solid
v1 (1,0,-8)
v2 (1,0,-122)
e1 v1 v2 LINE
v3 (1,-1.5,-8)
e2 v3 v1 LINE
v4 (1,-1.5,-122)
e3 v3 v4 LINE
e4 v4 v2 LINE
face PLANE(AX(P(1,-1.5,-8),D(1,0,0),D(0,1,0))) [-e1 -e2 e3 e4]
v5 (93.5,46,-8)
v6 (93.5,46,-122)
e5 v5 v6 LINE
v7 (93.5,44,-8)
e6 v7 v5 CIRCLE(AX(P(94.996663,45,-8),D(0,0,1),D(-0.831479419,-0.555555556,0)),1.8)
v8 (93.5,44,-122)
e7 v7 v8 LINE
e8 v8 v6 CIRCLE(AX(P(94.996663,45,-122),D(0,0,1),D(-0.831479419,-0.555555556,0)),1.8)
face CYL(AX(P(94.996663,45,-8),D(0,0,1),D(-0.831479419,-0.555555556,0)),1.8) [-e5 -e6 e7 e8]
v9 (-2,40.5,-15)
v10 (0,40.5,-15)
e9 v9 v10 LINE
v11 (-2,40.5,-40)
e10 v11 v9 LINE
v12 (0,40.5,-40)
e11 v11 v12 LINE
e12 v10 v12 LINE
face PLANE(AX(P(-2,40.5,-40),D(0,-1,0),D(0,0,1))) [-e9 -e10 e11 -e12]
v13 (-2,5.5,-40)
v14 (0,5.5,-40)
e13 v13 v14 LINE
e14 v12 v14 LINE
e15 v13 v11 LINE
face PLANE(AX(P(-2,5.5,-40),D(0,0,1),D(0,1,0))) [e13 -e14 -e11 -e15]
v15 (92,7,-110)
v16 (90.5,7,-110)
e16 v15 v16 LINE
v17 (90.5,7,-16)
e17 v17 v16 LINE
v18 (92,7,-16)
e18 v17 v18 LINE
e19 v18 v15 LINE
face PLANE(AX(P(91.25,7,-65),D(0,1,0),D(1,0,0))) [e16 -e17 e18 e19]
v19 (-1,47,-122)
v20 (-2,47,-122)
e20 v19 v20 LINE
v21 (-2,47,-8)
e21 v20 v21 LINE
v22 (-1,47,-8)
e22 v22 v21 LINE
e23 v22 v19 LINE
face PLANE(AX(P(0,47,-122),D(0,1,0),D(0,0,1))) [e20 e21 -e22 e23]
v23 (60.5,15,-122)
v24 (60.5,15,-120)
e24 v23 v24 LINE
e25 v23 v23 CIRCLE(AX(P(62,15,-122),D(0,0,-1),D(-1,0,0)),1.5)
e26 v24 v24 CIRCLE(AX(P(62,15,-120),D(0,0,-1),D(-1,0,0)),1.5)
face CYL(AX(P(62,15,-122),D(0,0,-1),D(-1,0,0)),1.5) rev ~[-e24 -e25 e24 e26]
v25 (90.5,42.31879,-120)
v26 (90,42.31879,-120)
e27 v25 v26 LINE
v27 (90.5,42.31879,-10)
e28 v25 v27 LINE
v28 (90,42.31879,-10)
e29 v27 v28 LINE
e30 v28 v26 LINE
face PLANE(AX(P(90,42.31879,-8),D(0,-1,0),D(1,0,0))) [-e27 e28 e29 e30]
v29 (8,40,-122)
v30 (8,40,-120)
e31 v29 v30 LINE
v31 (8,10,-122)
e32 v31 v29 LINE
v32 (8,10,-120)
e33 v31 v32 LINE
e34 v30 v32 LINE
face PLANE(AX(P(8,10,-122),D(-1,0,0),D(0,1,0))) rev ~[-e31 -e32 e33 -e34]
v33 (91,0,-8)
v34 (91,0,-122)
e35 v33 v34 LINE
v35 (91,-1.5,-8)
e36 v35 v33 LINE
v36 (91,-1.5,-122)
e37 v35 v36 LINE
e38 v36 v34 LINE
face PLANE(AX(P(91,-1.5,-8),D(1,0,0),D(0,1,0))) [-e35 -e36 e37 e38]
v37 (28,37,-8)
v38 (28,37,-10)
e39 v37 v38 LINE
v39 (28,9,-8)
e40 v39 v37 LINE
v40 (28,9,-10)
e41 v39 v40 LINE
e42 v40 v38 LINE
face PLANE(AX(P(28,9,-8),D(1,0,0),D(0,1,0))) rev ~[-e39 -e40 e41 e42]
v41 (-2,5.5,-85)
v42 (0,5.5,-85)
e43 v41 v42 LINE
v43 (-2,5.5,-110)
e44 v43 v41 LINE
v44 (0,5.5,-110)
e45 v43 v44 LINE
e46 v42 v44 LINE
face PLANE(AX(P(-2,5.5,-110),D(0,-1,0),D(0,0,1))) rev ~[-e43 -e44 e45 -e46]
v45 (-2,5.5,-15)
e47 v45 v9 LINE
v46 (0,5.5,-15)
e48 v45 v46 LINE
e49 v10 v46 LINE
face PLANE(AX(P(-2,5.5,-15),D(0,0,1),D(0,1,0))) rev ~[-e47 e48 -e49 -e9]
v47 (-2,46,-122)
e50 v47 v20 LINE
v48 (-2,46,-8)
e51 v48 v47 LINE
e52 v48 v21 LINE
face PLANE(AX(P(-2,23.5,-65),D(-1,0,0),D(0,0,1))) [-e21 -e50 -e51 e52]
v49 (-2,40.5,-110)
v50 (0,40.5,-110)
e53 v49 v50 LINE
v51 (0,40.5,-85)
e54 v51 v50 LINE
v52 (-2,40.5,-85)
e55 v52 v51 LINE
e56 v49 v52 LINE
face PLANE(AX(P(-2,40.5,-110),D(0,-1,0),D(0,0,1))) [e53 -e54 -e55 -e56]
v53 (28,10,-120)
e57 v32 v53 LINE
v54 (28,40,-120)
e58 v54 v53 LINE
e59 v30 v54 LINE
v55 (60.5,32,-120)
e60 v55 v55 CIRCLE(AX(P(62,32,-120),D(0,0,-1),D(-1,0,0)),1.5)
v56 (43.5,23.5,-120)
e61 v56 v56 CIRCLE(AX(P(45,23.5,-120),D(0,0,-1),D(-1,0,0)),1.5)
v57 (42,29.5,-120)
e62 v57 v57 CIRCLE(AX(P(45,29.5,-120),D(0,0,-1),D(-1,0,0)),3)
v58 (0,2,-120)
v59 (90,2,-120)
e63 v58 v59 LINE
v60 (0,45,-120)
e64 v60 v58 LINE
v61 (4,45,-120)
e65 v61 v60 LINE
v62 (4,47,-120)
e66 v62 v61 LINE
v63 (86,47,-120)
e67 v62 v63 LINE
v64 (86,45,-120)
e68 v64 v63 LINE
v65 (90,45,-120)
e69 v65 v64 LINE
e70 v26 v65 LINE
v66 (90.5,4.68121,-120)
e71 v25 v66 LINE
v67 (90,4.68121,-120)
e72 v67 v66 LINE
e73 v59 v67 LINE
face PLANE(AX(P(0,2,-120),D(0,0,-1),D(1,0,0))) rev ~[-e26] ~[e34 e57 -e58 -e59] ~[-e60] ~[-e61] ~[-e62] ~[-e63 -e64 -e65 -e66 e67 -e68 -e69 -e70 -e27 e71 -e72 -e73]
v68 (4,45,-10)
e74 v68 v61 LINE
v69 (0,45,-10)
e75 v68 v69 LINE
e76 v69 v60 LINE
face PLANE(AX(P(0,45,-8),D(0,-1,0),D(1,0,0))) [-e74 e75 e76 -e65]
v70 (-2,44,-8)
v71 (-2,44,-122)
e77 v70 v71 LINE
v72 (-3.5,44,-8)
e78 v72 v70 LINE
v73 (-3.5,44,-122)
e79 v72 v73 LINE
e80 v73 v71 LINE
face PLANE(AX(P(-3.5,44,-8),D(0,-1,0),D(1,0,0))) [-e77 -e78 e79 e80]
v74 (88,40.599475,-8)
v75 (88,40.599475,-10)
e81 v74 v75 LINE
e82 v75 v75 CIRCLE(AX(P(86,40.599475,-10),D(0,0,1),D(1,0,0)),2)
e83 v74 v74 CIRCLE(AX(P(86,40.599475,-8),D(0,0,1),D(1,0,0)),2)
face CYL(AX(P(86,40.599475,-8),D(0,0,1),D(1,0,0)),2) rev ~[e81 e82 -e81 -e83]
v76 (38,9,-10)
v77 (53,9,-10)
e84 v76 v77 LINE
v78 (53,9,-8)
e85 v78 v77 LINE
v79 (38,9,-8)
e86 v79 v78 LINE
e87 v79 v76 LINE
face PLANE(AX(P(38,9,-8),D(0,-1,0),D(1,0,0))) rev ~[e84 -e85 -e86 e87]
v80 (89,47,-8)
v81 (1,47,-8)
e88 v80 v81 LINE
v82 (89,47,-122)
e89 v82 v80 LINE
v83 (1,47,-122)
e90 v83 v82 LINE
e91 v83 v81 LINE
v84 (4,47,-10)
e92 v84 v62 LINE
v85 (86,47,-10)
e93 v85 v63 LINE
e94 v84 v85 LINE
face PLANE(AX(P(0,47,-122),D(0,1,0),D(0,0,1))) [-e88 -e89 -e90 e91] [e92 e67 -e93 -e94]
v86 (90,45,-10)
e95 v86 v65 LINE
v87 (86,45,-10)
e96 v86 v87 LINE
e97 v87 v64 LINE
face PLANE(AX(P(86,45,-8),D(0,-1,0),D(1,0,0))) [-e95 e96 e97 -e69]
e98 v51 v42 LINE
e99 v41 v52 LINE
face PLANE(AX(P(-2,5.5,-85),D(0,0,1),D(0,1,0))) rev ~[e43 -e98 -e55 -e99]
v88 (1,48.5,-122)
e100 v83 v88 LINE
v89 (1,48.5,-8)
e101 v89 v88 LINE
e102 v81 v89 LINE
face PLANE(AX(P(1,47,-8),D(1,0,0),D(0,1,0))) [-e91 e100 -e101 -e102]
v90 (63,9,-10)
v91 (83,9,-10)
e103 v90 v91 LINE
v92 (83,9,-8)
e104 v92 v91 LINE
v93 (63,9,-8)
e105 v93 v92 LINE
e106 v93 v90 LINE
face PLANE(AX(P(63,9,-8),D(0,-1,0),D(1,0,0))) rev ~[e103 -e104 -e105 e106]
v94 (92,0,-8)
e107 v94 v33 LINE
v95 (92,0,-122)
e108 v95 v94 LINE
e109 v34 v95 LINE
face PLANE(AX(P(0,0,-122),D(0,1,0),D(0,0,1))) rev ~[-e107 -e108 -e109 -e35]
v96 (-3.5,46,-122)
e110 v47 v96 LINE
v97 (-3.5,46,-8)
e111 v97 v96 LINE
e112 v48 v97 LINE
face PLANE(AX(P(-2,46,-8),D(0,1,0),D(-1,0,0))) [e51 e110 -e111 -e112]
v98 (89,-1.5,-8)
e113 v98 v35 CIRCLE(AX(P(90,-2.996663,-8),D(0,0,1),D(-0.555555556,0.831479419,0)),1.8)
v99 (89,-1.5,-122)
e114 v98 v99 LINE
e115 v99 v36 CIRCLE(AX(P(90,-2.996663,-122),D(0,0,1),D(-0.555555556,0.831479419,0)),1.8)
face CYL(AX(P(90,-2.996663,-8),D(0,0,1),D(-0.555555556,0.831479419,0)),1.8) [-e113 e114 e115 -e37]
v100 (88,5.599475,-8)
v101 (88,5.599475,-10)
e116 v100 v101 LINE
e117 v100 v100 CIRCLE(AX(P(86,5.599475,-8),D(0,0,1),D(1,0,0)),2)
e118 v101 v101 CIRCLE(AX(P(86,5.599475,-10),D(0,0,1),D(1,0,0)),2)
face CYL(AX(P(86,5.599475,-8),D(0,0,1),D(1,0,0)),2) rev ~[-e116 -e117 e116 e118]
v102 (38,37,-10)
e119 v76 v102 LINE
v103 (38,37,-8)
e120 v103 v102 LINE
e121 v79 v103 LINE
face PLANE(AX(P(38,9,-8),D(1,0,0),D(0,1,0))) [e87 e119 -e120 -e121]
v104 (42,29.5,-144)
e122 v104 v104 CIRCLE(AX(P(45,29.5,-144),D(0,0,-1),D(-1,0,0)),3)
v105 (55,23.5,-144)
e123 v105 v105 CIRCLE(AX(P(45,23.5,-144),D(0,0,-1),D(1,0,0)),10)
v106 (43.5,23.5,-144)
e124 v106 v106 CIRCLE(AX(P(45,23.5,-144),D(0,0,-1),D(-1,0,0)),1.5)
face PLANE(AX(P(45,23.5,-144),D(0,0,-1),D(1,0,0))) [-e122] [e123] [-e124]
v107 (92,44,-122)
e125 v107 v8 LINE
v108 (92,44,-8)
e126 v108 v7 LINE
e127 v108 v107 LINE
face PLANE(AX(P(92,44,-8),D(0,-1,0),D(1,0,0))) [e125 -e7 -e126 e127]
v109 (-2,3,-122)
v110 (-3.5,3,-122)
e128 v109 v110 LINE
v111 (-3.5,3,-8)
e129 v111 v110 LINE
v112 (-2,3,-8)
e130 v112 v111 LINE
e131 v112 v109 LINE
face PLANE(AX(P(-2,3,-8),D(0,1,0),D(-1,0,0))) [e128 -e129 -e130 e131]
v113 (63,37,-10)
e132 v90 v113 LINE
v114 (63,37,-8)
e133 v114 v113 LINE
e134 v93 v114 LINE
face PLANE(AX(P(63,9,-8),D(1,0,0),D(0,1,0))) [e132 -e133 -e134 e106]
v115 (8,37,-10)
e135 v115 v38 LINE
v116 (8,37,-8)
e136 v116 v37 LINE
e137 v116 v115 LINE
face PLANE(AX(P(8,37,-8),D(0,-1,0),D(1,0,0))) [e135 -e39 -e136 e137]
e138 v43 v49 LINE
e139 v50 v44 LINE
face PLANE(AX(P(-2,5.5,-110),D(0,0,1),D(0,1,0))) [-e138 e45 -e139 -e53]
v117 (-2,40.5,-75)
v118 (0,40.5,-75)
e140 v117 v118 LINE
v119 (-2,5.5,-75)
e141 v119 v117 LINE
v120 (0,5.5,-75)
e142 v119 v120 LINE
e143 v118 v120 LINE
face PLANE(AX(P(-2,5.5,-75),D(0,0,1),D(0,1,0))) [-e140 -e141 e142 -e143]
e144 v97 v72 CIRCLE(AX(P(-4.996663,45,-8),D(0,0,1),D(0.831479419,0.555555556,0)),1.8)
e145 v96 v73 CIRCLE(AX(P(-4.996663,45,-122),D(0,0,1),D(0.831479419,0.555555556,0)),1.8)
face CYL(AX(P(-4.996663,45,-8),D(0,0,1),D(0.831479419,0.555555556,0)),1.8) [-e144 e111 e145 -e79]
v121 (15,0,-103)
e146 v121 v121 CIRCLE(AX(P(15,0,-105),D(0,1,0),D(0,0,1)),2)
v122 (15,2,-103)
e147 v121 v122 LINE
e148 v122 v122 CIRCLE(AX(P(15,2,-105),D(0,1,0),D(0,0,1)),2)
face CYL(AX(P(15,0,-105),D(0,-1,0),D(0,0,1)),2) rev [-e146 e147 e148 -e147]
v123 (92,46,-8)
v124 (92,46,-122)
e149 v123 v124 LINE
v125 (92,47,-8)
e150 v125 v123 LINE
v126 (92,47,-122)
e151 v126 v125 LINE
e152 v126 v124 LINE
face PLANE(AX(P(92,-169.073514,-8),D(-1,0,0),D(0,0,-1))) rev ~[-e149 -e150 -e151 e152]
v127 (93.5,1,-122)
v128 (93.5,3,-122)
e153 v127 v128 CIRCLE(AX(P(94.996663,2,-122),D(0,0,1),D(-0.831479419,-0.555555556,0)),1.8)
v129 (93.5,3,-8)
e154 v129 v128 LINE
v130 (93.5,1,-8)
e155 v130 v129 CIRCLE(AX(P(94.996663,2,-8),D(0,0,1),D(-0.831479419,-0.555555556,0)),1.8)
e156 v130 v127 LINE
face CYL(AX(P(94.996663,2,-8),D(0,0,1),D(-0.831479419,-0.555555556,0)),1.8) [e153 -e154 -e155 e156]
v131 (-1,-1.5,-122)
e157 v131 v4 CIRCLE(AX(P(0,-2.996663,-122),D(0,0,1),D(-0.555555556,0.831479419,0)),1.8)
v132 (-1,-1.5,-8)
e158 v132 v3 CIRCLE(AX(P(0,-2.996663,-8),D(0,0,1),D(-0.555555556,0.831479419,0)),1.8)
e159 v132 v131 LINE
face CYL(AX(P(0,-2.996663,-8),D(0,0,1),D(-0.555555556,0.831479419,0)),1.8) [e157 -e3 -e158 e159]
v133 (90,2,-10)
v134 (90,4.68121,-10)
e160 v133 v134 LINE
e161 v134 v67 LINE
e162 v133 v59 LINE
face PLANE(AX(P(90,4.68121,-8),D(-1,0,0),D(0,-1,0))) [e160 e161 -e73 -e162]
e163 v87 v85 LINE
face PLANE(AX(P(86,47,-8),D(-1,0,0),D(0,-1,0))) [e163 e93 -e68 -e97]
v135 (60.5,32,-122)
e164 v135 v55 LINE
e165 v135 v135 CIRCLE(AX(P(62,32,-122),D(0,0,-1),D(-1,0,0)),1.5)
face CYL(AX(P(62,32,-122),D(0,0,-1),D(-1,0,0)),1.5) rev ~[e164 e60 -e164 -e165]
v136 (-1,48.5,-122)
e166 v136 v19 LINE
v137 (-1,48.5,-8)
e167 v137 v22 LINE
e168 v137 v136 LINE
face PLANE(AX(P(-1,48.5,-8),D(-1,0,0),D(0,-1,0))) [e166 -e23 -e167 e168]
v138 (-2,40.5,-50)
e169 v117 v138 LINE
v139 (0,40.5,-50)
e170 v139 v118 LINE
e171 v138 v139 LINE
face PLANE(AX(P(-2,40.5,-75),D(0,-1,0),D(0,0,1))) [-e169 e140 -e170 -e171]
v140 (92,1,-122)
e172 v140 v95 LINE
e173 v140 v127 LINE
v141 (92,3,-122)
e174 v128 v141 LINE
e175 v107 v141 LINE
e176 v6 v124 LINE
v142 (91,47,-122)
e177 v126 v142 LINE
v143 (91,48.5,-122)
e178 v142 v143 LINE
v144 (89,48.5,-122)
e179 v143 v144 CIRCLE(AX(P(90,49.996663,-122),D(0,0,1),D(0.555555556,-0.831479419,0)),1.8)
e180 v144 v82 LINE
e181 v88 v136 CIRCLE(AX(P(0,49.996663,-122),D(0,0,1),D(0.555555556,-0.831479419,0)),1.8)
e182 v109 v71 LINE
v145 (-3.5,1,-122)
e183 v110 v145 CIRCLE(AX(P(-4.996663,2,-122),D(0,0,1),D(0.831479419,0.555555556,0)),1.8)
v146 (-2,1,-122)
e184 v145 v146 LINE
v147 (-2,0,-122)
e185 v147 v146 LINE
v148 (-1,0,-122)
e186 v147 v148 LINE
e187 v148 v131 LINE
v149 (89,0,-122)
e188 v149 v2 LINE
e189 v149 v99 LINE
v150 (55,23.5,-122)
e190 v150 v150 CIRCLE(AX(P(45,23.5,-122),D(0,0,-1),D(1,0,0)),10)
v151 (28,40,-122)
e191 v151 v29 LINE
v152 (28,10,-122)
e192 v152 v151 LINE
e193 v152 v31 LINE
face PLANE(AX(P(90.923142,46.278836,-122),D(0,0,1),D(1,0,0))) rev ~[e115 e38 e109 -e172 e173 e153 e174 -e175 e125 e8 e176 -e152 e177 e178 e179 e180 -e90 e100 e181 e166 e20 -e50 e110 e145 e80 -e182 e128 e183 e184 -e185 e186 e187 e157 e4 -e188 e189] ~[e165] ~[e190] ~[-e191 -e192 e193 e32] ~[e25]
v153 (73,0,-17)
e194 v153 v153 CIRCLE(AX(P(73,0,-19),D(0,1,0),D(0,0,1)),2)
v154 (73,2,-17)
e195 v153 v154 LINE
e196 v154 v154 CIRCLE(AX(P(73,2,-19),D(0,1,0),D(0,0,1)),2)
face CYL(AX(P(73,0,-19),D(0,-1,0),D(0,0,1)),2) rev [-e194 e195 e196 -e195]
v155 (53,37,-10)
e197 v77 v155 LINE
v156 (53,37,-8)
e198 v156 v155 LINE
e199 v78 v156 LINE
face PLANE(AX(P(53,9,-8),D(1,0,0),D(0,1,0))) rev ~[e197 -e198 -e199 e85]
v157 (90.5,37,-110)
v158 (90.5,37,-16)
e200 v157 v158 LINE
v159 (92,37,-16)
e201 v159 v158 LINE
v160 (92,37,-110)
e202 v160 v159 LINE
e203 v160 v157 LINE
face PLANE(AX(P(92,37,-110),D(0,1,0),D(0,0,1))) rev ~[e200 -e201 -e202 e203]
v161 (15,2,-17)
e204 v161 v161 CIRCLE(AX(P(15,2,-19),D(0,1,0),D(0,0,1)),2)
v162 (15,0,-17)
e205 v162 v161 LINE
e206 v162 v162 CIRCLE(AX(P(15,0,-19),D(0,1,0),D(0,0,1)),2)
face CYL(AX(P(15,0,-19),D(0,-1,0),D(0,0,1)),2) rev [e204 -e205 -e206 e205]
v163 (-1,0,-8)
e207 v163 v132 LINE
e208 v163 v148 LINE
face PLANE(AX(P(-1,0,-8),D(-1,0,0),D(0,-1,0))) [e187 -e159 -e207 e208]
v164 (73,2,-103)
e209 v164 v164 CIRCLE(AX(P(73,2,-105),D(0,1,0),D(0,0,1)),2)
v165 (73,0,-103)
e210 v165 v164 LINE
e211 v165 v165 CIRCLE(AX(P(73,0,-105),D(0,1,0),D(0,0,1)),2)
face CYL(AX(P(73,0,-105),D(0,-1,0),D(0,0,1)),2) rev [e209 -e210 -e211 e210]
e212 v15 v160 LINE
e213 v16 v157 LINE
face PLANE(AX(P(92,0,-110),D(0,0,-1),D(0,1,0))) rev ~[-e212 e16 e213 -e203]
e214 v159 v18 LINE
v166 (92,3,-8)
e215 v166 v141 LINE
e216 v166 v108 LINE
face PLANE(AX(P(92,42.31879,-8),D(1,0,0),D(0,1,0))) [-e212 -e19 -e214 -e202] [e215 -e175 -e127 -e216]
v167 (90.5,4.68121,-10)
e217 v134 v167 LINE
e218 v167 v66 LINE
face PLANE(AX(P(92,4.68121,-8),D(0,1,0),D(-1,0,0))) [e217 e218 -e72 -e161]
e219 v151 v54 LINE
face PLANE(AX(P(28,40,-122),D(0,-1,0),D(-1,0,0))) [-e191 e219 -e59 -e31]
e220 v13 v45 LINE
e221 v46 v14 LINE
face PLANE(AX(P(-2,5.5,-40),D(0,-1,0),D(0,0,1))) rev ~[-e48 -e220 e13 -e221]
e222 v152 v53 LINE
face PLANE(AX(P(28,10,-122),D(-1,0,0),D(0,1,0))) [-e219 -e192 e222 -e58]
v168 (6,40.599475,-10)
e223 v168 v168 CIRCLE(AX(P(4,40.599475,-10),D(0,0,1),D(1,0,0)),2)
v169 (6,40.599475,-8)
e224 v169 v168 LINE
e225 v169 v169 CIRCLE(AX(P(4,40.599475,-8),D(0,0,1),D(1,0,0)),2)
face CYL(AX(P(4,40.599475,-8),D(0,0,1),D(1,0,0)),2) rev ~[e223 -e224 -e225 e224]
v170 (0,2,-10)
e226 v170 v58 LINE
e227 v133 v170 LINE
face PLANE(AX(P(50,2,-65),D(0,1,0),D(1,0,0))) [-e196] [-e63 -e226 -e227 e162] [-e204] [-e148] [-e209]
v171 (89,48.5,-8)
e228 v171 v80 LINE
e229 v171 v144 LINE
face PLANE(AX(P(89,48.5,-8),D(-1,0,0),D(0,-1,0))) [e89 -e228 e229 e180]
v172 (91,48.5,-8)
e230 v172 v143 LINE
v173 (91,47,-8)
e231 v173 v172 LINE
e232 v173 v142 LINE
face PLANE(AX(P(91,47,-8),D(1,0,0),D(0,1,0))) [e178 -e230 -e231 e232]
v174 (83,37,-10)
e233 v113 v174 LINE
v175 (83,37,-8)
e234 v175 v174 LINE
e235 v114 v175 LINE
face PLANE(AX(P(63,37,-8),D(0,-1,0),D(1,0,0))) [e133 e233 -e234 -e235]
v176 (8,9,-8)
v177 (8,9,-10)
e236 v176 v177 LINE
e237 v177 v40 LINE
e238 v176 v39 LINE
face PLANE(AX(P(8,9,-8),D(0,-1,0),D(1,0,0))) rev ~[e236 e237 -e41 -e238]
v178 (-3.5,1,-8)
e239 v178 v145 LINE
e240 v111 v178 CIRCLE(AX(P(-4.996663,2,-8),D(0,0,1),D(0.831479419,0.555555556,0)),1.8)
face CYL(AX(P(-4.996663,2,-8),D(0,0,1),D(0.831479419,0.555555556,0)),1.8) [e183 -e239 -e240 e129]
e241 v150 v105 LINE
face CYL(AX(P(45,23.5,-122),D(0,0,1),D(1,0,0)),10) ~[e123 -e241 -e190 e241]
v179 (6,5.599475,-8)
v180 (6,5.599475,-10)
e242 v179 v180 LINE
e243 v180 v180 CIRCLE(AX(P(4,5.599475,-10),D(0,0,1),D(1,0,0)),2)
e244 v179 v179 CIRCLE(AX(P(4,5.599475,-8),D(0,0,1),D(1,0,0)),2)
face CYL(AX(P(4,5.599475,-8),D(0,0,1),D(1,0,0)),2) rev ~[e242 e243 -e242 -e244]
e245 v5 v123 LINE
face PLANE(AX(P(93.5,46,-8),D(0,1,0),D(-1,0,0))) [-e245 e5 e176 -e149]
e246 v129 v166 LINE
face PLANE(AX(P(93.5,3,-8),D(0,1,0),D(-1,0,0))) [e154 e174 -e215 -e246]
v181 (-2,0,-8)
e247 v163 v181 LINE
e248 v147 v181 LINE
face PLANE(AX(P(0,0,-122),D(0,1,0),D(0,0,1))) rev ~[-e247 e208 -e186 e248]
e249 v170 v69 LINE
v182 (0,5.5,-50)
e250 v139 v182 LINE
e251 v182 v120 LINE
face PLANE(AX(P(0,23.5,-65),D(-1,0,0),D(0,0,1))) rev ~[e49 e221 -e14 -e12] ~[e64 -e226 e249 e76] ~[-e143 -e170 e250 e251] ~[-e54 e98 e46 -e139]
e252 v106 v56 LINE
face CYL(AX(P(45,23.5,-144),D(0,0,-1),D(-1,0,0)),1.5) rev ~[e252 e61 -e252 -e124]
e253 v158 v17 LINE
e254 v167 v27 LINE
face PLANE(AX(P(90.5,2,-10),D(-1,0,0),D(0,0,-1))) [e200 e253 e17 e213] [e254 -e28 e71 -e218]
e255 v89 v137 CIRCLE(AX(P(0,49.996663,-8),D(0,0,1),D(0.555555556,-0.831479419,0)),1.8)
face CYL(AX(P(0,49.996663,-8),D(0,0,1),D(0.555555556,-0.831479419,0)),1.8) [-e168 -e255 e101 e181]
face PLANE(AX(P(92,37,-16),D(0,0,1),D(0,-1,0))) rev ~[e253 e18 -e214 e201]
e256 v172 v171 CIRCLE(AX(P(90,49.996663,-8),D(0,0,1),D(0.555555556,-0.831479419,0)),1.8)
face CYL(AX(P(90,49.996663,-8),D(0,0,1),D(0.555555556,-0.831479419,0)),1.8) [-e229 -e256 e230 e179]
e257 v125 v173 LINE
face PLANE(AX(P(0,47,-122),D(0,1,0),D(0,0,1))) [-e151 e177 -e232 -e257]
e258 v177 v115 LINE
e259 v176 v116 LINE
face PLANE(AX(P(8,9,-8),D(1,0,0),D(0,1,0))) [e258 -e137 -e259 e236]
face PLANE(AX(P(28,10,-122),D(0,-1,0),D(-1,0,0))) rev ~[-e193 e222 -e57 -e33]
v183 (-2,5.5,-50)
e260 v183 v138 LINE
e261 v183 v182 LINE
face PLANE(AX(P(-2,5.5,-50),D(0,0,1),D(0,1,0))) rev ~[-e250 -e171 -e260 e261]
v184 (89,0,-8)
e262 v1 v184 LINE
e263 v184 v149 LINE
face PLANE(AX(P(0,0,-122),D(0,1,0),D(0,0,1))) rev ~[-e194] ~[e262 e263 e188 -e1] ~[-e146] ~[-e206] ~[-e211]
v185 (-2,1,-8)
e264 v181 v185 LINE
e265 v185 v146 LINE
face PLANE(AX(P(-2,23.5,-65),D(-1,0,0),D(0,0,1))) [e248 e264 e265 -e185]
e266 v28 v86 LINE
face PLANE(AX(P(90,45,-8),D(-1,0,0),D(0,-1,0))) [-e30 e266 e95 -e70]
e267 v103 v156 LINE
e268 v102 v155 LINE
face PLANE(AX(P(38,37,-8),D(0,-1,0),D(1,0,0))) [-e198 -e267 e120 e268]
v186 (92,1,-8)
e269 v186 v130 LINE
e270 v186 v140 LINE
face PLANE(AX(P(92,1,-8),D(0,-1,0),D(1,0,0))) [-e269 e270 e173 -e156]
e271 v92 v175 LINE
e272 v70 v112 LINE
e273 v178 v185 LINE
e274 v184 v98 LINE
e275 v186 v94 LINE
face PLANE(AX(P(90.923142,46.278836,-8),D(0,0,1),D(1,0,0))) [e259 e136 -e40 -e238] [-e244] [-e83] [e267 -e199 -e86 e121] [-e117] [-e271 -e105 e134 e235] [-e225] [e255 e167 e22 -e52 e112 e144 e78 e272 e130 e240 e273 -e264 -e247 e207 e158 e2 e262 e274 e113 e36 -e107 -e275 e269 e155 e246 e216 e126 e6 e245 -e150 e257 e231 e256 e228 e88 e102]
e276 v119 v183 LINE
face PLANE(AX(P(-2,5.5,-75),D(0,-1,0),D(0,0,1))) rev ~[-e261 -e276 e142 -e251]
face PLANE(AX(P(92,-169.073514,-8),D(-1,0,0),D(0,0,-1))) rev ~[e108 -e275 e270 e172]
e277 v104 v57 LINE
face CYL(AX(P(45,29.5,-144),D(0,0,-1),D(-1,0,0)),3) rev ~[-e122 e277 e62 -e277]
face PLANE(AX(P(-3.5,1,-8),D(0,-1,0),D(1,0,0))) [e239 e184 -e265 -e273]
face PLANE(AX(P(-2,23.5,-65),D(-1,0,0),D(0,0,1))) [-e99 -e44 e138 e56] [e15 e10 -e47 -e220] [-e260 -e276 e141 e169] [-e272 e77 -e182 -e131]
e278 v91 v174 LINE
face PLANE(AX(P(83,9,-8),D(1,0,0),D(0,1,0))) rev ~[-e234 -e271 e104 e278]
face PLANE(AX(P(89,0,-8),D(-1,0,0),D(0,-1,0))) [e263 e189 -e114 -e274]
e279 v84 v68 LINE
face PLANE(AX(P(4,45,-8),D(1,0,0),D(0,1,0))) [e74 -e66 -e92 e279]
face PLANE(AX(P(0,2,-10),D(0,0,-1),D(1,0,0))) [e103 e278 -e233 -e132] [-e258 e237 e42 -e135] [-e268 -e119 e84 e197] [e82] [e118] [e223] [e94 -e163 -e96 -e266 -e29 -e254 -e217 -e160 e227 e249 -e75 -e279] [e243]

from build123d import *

# Parameters (mm, degrees)
SKETCH_1_W               = 100
SKETCH_1_H               = 130
SKETCH_1_R               = 2
EXTRUDE_1_DEPTH          = 2
SKETCH_3_W               = 100
SKETCH_3_H               = 2
EXTRUDE_2_DEPTH          = 45
SKETCH_4_W               = 1.5
SKETCH_4_H               = 110
EXTRUDE_3_DEPTH          = 5
SKETCH_5_W               = 114
SKETCH_5_H               = 47
EXTRUDE_7_DEPTH          = 2
CUT_EXTRUDE_3_DEPTH      = 171.073513517
CUT_EXTRUDE_3_DEPTH_BACK = 171.073513517
EXTRUDE_10_DEPTH         = 1.5
EXTRUDE_11_DEPTH         = 114
CUT_EXTRUDE_4_REACH      = 160.267
SKETCH_13_R              = 2
SKETCH_14_R              = 10
EXTRUDE_12_DEPTH         = 22
CUT_EXTRUDE_5_REACH      = 160.267
SKETCH_15_R              = 1.5
CUT_EXTRUDE_6_REACH      = 176.781
SKETCH_16_R              = 1.5
CUT_EXTRUDE_7_REACH      = 184.153
SKETCH_17_W              = 25
SKETCH_17_H              = 35
CUT_EXTRUDE_8_REACH      = 160.267
SKETCH_18_W              = 20
SKETCH_18_H              = 30
CUT_EXTRUDE_9_REACH      = 176.781
SKETCH_19_W              = 20
SKETCH_19_H              = 28
SKETCH_19_W_2            = 15
CUT_EXTRUDE_10_REACH     = 176.781
SKETCH_20_R              = 3


with BuildPart() as part:
    # 草图1 → 凸台-拉伸1 (new body)
    with BuildSketch(Plane(origin=(0, 0, 0), x_dir=(1, 0, 0), z_dir=(0, 1, 0))):
        with Locations((50, 65)):
            Rectangle(SKETCH_1_W, SKETCH_1_H)
        with Locations(Location((15, 105, 0), (0, 0, 270))):
            Circle(SKETCH_1_R, mode=Mode.SUBTRACT)
        with Locations(Location((15, 19, 0), (0, 0, 270))):
            Circle(SKETCH_1_R, mode=Mode.SUBTRACT)
        with Locations(Location((73, 105, 0), (0, 0, 270))):
            Circle(SKETCH_1_R, mode=Mode.SUBTRACT)
        with Locations(Location((73, 19, 0), (0, 0, 270))):
            Circle(SKETCH_1_R, mode=Mode.SUBTRACT)
    extrude(amount=EXTRUDE_1_DEPTH)

    # 草图3 → 凸台-拉伸2 (add)
    with BuildSketch(Plane(origin=(0, 2, 0), x_dir=(1, 0, 0), z_dir=(0, 1, 0))):
        with Locations((50, 121)):
            Rectangle(SKETCH_3_W, SKETCH_3_H)
        with Locations((50, 9)):
            Rectangle(SKETCH_3_W, SKETCH_3_H)
    extrude(amount=EXTRUDE_2_DEPTH)

    # 草图4 → 凸台-拉伸3 (add)
    with BuildSketch(Plane(origin=(0, 2, 0), x_dir=(1, 0, 0), z_dir=(0, 1, 0))):
        with Locations((91.25, 65)):
            Rectangle(SKETCH_4_W, SKETCH_4_H)
    extrude(amount=EXTRUDE_3_DEPTH)

    # 草图5 → 凸台-拉伸7 (add)
    with BuildSketch(Plane.ZY):
        with Locations((-65, 23.5)):
            Rectangle(SKETCH_5_W, SKETCH_5_H)
    extrude(amount=EXTRUDE_7_DEPTH)

    # 草图6 → 切除-拉伸3 (cut, two sides: drawn at the far end of the back side and taken through both)
    with BuildSketch(Plane(origin=(0, 2, 0), x_dir=(1, 0, 0), z_dir=(0, 1, 0)).offset(-CUT_EXTRUDE_3_DEPTH_BACK)):
        Polygon((0, 8), (92, 8), (92, 122), (0, 122), (0, 130), (100, 130), (100, 117), (100, 13), (100, 0), (0, 0), align=None)
    extrude(amount=CUT_EXTRUDE_3_DEPTH + CUT_EXTRUDE_3_DEPTH_BACK, mode=Mode.SUBTRACT)

    # 草图11 → 凸台-拉伸10 (add)
    with BuildSketch(Plane(origin=(92, 0, 0), x_dir=(0, 0, -1), z_dir=(1, 0, 0))):
        Polygon((8, 47), (122, 47), (122, 42), (122, 0), (110, 0), (110, 37), (16, 37), (16, 0), (8, 0), align=None)
    extrude(amount=-EXTRUDE_10_DEPTH)

    # 草图12 → 凸台-拉伸11 (add, through all)
    with BuildSketch(Plane.XY.offset(-8)):
        with BuildLine():
            Line((91, 47), (91, 48.5))
            ThreePointArc((91, 48.5), (90, 51.796662955), (89, 48.5))
            Line((89, 48.5), (89, 47))
            Line((89, 47), (86, 47))
            Line((86, 47), (86, 45))
            Line((86, 45), (90, 45))
            Line((90, 45), (90, 42.318790087))
            Line((90, 42.318790087), (92, 42.318790087))
            Line((92, 42.318790087), (92, 44))
            Line((92, 44), (93.5, 44))
            ThreePointArc((93.5, 44), (96.796662955, 45), (93.5, 46))
            Line((93.5, 46), (92, 46))
            Line((92, 46), (92, 47))
            Line((92, 47), (91, 47))
        make_face()
        with BuildLine():
            Line((0, 42.318790087), (0, 45))
            Line((0, 45), (4, 45))
            Line((4, 45), (4, 47))
            Line((4, 47), (1, 47))
            Line((1, 47), (1, 48.5))
            ThreePointArc((1, 48.5), (0, 51.796662955), (-1, 48.5))
            Line((-1, 48.5), (-1, 47))
            Line((-1, 47), (-2, 47))
            Line((-2, 47), (-2, 46))
            Line((-2, 46), (-3.5, 46))
            ThreePointArc((-3.5, 46), (-6.796662955, 45), (-3.5, 44))
            Line((-3.5, 44), (-2, 44))
            Line((-2, 44), (-2, 42.318790087))
            Line((-2, 42.318790087), (0, 42.318790087))
        make_face()
        with BuildLine():
            Line((-1, 0), (-1, -1.5))
            ThreePointArc((-1, -1.5), (0, -4.796662955), (1, -1.5))
            Line((1, -1.5), (1, 0))
            Line((1, 0), (4, 0))
            Line((4, 0), (4, 2))
            Line((4, 2), (0, 2))
            Line((0, 2), (0, 4.681209913))
            Line((0, 4.681209913), (-2, 4.681209913))
            Line((-2, 4.681209913), (-2, 3))
            Line((-2, 3), (-3.5, 3))
            ThreePointArc((-3.5, 3), (-6.796662955, 2), (-3.5, 1))
            Line((-3.5, 1), (-2, 1))
            Line((-2, 1), (-2, 0))
            Line((-2, 0), (-1, 0))
        make_face()
        with BuildLine():
            Line((90, 4.681209913), (90, 2))
            Line((90, 2), (86, 2))
            Line((86, 2), (86, 0))
            Line((86, 0), (89, 0))
            Line((89, 0), (89, -1.5))
            ThreePointArc((89, -1.5), (90, -4.796662955), (91, -1.5))
            Line((91, -1.5), (91, 0))
            Line((91, 0), (92, 0))
            Line((92, 0), (92, 1))
            Line((92, 1), (93.5, 1))
            ThreePointArc((93.5, 1), (96.796662955, 2), (93.5, 3))
            Line((93.5, 3), (92, 3))
            Line((92, 3), (92, 4.681209913))
            Line((92, 4.681209913), (90, 4.681209913))
        make_face()
    extrude(amount=-EXTRUDE_11_DEPTH)

    # 草图13 → 切除-拉伸4 (cut, up to next)
    with BuildSketch(Plane.XY.offset(-8), mode=Mode.PRIVATE) as cut_extrude_4_sk1:
        with Locations((86, 40.599475321)):
            Circle(SKETCH_13_R)
    cut_extrude_4_tool1 = extrude(cut_extrude_4_sk1.sketch, amount=-CUT_EXTRUDE_4_REACH, mode=Mode.PRIVATE) & part.part
    # 草图13 → 切除-拉伸4 (cut, up to next)
    with BuildSketch(Plane.XY.offset(-8), mode=Mode.PRIVATE) as cut_extrude_4_sk2:
        with Locations((86, 5.599475321)):
            Circle(SKETCH_13_R)
    cut_extrude_4_tool2 = extrude(cut_extrude_4_sk2.sketch, amount=-CUT_EXTRUDE_4_REACH, mode=Mode.PRIVATE) & part.part
    # 草图13 → 切除-拉伸4 (cut, up to next)
    with BuildSketch(Plane.XY.offset(-8), mode=Mode.PRIVATE) as cut_extrude_4_sk3:
        with Locations((4, 5.599475321)):
            Circle(SKETCH_13_R)
    cut_extrude_4_tool3 = extrude(cut_extrude_4_sk3.sketch, amount=-CUT_EXTRUDE_4_REACH, mode=Mode.PRIVATE) & part.part
    # 草图13 → 切除-拉伸4 (cut, up to next)
    with BuildSketch(Plane.XY.offset(-8), mode=Mode.PRIVATE) as cut_extrude_4_sk4:
        with Locations((4, 40.599475321)):
            Circle(SKETCH_13_R)
    cut_extrude_4_tool4 = extrude(cut_extrude_4_sk4.sketch, amount=-CUT_EXTRUDE_4_REACH, mode=Mode.PRIVATE) & part.part
    add(cut_extrude_4_tool1.solids().sort_by_distance((86, 40.599475, -8))[0], mode=Mode.SUBTRACT)
    add(cut_extrude_4_tool2.solids().sort_by_distance((86, 5.599475, -8))[0], mode=Mode.SUBTRACT)
    add(cut_extrude_4_tool3.solids().sort_by_distance((4, 5.599475, -8))[0], mode=Mode.SUBTRACT)
    add(cut_extrude_4_tool4.solids().sort_by_distance((4, 40.599475, -8))[0], mode=Mode.SUBTRACT)

    # 草图14 → 凸台-拉伸12 (add)
    with BuildSketch(Plane(origin=(0, 0, -122), x_dir=(-1, 0, 0), z_dir=(0, 0, -1))):
        with Locations(Location((-45, 23.5, 0), (0, 0, 180))):
            Circle(SKETCH_14_R)
    extrude(amount=EXTRUDE_12_DEPTH)

    # 草图15 → 切除-拉伸5 (cut, up to next)
    with BuildSketch(Plane(origin=(0, 0, -122), x_dir=(-1, 0, 0), z_dir=(0, 0, -1)), mode=Mode.PRIVATE) as cut_extrude_5_sk1:
        with Locations((-62, 32)):
            Circle(SKETCH_15_R)
    cut_extrude_5_tool1 = extrude(cut_extrude_5_sk1.sketch, amount=-CUT_EXTRUDE_5_REACH, mode=Mode.PRIVATE) & part.part
    # 草图15 → 切除-拉伸5 (cut, up to next)
    with BuildSketch(Plane(origin=(0, 0, -122), x_dir=(-1, 0, 0), z_dir=(0, 0, -1)), mode=Mode.PRIVATE) as cut_extrude_5_sk2:
        with Locations((-62, 15)):
            Circle(SKETCH_15_R)
    cut_extrude_5_tool2 = extrude(cut_extrude_5_sk2.sketch, amount=-CUT_EXTRUDE_5_REACH, mode=Mode.PRIVATE) & part.part
    add(cut_extrude_5_tool1.solids().sort_by_distance((62, 32, -122))[0], mode=Mode.SUBTRACT)
    add(cut_extrude_5_tool2.solids().sort_by_distance((62, 15, -122))[0], mode=Mode.SUBTRACT)

    # 草图16 → 切除-拉伸6 (cut, up to next)
    with BuildSketch(Plane(origin=(0, 0, -144), x_dir=(-1, 0, 0), z_dir=(0, 0, -1)), mode=Mode.PRIVATE) as cut_extrude_6_sk1:
        with Locations((-45, 23.5)):
            Circle(SKETCH_16_R)
    cut_extrude_6_tool1 = extrude(cut_extrude_6_sk1.sketch, amount=-CUT_EXTRUDE_6_REACH, mode=Mode.PRIVATE) & part.part
    add(cut_extrude_6_tool1.solids().sort_by_distance((45, 23.5, -144))[0], mode=Mode.SUBTRACT)

    # 草图17 → 切除-拉伸7 (cut, up to next)
    with BuildSketch(Plane.ZY.offset(2), mode=Mode.PRIVATE) as cut_extrude_7_sk1:
        with Locations((-97.5, 23)):
            Rectangle(SKETCH_17_W, SKETCH_17_H)
    cut_extrude_7_tool1 = extrude(cut_extrude_7_sk1.sketch, amount=-CUT_EXTRUDE_7_REACH, mode=Mode.PRIVATE) & part.part
    # 草图17 → 切除-拉伸7 (cut, up to next)
    with BuildSketch(Plane.ZY.offset(2), mode=Mode.PRIVATE) as cut_extrude_7_sk2:
        with Locations((-62.5, 23)):
            Rectangle(SKETCH_17_W, SKETCH_17_H)
    cut_extrude_7_tool2 = extrude(cut_extrude_7_sk2.sketch, amount=-CUT_EXTRUDE_7_REACH, mode=Mode.PRIVATE) & part.part
    # 草图17 → 切除-拉伸7 (cut, up to next)
    with BuildSketch(Plane.ZY.offset(2), mode=Mode.PRIVATE) as cut_extrude_7_sk3:
        with Locations((-27.5, 23)):
            Rectangle(SKETCH_17_W, SKETCH_17_H)
    cut_extrude_7_tool3 = extrude(cut_extrude_7_sk3.sketch, amount=-CUT_EXTRUDE_7_REACH, mode=Mode.PRIVATE) & part.part
    add(cut_extrude_7_tool1.solids().sort_by_distance((-2, 23, -97.5))[0], mode=Mode.SUBTRACT)
    add(cut_extrude_7_tool2.solids().sort_by_distance((-2, 23, -62.5))[0], mode=Mode.SUBTRACT)
    add(cut_extrude_7_tool3.solids().sort_by_distance((-2, 23, -27.5))[0], mode=Mode.SUBTRACT)

    # 草图18 → 切除-拉伸8 (cut, up to next)
    with BuildSketch(Plane(origin=(0, 0, -122), x_dir=(-1, 0, 0), z_dir=(0, 0, -1)), mode=Mode.PRIVATE) as cut_extrude_8_sk1:
        with Locations((-18, 25)):
            Rectangle(SKETCH_18_W, SKETCH_18_H)
    cut_extrude_8_tool1 = extrude(cut_extrude_8_sk1.sketch, amount=-CUT_EXTRUDE_8_REACH, mode=Mode.PRIVATE) & part.part
    add(cut_extrude_8_tool1.solids().sort_by_distance((18, 25, -122))[0], mode=Mode.SUBTRACT)

    # 草图19 → 切除-拉伸9 (cut, up to next)
    with BuildSketch(Plane.XY.offset(-8), mode=Mode.PRIVATE) as cut_extrude_9_sk1:
        with Locations((18, 23)):
            Rectangle(SKETCH_19_W, SKETCH_19_H)
    cut_extrude_9_tool1 = extrude(cut_extrude_9_sk1.sketch, amount=-CUT_EXTRUDE_9_REACH, mode=Mode.PRIVATE) & part.part
    # 草图19 → 切除-拉伸9 (cut, up to next)
    with BuildSketch(Plane.XY.offset(-8), mode=Mode.PRIVATE) as cut_extrude_9_sk2:
        with Locations((45.5, 23)):
            Rectangle(SKETCH_19_W_2, SKETCH_19_H)
    cut_extrude_9_tool2 = extrude(cut_extrude_9_sk2.sketch, amount=-CUT_EXTRUDE_9_REACH, mode=Mode.PRIVATE) & part.part
    # 草图19 → 切除-拉伸9 (cut, up to next)
    with BuildSketch(Plane.XY.offset(-8), mode=Mode.PRIVATE) as cut_extrude_9_sk3:
        with Locations((73, 23)):
            Rectangle(SKETCH_19_W, SKETCH_19_H)
    cut_extrude_9_tool3 = extrude(cut_extrude_9_sk3.sketch, amount=-CUT_EXTRUDE_9_REACH, mode=Mode.PRIVATE) & part.part
    add(cut_extrude_9_tool1.solids().sort_by_distance((18, 23, -8))[0], mode=Mode.SUBTRACT)
    add(cut_extrude_9_tool2.solids().sort_by_distance((45.5, 23, -8))[0], mode=Mode.SUBTRACT)
    add(cut_extrude_9_tool3.solids().sort_by_distance((73, 23, -8))[0], mode=Mode.SUBTRACT)

    # 草图20 → 切除-拉伸10 (cut, up to next)
    with BuildSketch(Plane(origin=(0, 0, -144), x_dir=(-1, 0, 0), z_dir=(0, 0, -1)), mode=Mode.PRIVATE) as cut_extrude_10_sk1:
        with Locations((-45, 29.5)):
            Circle(SKETCH_20_R)
    cut_extrude_10_tool1 = extrude(cut_extrude_10_sk1.sketch, amount=-CUT_EXTRUDE_10_REACH, mode=Mode.PRIVATE) & part.part
    add(cut_extrude_10_tool1.solids().sort_by_distance((45, 29.5, -144))[0], mode=Mode.SUBTRACT)


solid = part.part
